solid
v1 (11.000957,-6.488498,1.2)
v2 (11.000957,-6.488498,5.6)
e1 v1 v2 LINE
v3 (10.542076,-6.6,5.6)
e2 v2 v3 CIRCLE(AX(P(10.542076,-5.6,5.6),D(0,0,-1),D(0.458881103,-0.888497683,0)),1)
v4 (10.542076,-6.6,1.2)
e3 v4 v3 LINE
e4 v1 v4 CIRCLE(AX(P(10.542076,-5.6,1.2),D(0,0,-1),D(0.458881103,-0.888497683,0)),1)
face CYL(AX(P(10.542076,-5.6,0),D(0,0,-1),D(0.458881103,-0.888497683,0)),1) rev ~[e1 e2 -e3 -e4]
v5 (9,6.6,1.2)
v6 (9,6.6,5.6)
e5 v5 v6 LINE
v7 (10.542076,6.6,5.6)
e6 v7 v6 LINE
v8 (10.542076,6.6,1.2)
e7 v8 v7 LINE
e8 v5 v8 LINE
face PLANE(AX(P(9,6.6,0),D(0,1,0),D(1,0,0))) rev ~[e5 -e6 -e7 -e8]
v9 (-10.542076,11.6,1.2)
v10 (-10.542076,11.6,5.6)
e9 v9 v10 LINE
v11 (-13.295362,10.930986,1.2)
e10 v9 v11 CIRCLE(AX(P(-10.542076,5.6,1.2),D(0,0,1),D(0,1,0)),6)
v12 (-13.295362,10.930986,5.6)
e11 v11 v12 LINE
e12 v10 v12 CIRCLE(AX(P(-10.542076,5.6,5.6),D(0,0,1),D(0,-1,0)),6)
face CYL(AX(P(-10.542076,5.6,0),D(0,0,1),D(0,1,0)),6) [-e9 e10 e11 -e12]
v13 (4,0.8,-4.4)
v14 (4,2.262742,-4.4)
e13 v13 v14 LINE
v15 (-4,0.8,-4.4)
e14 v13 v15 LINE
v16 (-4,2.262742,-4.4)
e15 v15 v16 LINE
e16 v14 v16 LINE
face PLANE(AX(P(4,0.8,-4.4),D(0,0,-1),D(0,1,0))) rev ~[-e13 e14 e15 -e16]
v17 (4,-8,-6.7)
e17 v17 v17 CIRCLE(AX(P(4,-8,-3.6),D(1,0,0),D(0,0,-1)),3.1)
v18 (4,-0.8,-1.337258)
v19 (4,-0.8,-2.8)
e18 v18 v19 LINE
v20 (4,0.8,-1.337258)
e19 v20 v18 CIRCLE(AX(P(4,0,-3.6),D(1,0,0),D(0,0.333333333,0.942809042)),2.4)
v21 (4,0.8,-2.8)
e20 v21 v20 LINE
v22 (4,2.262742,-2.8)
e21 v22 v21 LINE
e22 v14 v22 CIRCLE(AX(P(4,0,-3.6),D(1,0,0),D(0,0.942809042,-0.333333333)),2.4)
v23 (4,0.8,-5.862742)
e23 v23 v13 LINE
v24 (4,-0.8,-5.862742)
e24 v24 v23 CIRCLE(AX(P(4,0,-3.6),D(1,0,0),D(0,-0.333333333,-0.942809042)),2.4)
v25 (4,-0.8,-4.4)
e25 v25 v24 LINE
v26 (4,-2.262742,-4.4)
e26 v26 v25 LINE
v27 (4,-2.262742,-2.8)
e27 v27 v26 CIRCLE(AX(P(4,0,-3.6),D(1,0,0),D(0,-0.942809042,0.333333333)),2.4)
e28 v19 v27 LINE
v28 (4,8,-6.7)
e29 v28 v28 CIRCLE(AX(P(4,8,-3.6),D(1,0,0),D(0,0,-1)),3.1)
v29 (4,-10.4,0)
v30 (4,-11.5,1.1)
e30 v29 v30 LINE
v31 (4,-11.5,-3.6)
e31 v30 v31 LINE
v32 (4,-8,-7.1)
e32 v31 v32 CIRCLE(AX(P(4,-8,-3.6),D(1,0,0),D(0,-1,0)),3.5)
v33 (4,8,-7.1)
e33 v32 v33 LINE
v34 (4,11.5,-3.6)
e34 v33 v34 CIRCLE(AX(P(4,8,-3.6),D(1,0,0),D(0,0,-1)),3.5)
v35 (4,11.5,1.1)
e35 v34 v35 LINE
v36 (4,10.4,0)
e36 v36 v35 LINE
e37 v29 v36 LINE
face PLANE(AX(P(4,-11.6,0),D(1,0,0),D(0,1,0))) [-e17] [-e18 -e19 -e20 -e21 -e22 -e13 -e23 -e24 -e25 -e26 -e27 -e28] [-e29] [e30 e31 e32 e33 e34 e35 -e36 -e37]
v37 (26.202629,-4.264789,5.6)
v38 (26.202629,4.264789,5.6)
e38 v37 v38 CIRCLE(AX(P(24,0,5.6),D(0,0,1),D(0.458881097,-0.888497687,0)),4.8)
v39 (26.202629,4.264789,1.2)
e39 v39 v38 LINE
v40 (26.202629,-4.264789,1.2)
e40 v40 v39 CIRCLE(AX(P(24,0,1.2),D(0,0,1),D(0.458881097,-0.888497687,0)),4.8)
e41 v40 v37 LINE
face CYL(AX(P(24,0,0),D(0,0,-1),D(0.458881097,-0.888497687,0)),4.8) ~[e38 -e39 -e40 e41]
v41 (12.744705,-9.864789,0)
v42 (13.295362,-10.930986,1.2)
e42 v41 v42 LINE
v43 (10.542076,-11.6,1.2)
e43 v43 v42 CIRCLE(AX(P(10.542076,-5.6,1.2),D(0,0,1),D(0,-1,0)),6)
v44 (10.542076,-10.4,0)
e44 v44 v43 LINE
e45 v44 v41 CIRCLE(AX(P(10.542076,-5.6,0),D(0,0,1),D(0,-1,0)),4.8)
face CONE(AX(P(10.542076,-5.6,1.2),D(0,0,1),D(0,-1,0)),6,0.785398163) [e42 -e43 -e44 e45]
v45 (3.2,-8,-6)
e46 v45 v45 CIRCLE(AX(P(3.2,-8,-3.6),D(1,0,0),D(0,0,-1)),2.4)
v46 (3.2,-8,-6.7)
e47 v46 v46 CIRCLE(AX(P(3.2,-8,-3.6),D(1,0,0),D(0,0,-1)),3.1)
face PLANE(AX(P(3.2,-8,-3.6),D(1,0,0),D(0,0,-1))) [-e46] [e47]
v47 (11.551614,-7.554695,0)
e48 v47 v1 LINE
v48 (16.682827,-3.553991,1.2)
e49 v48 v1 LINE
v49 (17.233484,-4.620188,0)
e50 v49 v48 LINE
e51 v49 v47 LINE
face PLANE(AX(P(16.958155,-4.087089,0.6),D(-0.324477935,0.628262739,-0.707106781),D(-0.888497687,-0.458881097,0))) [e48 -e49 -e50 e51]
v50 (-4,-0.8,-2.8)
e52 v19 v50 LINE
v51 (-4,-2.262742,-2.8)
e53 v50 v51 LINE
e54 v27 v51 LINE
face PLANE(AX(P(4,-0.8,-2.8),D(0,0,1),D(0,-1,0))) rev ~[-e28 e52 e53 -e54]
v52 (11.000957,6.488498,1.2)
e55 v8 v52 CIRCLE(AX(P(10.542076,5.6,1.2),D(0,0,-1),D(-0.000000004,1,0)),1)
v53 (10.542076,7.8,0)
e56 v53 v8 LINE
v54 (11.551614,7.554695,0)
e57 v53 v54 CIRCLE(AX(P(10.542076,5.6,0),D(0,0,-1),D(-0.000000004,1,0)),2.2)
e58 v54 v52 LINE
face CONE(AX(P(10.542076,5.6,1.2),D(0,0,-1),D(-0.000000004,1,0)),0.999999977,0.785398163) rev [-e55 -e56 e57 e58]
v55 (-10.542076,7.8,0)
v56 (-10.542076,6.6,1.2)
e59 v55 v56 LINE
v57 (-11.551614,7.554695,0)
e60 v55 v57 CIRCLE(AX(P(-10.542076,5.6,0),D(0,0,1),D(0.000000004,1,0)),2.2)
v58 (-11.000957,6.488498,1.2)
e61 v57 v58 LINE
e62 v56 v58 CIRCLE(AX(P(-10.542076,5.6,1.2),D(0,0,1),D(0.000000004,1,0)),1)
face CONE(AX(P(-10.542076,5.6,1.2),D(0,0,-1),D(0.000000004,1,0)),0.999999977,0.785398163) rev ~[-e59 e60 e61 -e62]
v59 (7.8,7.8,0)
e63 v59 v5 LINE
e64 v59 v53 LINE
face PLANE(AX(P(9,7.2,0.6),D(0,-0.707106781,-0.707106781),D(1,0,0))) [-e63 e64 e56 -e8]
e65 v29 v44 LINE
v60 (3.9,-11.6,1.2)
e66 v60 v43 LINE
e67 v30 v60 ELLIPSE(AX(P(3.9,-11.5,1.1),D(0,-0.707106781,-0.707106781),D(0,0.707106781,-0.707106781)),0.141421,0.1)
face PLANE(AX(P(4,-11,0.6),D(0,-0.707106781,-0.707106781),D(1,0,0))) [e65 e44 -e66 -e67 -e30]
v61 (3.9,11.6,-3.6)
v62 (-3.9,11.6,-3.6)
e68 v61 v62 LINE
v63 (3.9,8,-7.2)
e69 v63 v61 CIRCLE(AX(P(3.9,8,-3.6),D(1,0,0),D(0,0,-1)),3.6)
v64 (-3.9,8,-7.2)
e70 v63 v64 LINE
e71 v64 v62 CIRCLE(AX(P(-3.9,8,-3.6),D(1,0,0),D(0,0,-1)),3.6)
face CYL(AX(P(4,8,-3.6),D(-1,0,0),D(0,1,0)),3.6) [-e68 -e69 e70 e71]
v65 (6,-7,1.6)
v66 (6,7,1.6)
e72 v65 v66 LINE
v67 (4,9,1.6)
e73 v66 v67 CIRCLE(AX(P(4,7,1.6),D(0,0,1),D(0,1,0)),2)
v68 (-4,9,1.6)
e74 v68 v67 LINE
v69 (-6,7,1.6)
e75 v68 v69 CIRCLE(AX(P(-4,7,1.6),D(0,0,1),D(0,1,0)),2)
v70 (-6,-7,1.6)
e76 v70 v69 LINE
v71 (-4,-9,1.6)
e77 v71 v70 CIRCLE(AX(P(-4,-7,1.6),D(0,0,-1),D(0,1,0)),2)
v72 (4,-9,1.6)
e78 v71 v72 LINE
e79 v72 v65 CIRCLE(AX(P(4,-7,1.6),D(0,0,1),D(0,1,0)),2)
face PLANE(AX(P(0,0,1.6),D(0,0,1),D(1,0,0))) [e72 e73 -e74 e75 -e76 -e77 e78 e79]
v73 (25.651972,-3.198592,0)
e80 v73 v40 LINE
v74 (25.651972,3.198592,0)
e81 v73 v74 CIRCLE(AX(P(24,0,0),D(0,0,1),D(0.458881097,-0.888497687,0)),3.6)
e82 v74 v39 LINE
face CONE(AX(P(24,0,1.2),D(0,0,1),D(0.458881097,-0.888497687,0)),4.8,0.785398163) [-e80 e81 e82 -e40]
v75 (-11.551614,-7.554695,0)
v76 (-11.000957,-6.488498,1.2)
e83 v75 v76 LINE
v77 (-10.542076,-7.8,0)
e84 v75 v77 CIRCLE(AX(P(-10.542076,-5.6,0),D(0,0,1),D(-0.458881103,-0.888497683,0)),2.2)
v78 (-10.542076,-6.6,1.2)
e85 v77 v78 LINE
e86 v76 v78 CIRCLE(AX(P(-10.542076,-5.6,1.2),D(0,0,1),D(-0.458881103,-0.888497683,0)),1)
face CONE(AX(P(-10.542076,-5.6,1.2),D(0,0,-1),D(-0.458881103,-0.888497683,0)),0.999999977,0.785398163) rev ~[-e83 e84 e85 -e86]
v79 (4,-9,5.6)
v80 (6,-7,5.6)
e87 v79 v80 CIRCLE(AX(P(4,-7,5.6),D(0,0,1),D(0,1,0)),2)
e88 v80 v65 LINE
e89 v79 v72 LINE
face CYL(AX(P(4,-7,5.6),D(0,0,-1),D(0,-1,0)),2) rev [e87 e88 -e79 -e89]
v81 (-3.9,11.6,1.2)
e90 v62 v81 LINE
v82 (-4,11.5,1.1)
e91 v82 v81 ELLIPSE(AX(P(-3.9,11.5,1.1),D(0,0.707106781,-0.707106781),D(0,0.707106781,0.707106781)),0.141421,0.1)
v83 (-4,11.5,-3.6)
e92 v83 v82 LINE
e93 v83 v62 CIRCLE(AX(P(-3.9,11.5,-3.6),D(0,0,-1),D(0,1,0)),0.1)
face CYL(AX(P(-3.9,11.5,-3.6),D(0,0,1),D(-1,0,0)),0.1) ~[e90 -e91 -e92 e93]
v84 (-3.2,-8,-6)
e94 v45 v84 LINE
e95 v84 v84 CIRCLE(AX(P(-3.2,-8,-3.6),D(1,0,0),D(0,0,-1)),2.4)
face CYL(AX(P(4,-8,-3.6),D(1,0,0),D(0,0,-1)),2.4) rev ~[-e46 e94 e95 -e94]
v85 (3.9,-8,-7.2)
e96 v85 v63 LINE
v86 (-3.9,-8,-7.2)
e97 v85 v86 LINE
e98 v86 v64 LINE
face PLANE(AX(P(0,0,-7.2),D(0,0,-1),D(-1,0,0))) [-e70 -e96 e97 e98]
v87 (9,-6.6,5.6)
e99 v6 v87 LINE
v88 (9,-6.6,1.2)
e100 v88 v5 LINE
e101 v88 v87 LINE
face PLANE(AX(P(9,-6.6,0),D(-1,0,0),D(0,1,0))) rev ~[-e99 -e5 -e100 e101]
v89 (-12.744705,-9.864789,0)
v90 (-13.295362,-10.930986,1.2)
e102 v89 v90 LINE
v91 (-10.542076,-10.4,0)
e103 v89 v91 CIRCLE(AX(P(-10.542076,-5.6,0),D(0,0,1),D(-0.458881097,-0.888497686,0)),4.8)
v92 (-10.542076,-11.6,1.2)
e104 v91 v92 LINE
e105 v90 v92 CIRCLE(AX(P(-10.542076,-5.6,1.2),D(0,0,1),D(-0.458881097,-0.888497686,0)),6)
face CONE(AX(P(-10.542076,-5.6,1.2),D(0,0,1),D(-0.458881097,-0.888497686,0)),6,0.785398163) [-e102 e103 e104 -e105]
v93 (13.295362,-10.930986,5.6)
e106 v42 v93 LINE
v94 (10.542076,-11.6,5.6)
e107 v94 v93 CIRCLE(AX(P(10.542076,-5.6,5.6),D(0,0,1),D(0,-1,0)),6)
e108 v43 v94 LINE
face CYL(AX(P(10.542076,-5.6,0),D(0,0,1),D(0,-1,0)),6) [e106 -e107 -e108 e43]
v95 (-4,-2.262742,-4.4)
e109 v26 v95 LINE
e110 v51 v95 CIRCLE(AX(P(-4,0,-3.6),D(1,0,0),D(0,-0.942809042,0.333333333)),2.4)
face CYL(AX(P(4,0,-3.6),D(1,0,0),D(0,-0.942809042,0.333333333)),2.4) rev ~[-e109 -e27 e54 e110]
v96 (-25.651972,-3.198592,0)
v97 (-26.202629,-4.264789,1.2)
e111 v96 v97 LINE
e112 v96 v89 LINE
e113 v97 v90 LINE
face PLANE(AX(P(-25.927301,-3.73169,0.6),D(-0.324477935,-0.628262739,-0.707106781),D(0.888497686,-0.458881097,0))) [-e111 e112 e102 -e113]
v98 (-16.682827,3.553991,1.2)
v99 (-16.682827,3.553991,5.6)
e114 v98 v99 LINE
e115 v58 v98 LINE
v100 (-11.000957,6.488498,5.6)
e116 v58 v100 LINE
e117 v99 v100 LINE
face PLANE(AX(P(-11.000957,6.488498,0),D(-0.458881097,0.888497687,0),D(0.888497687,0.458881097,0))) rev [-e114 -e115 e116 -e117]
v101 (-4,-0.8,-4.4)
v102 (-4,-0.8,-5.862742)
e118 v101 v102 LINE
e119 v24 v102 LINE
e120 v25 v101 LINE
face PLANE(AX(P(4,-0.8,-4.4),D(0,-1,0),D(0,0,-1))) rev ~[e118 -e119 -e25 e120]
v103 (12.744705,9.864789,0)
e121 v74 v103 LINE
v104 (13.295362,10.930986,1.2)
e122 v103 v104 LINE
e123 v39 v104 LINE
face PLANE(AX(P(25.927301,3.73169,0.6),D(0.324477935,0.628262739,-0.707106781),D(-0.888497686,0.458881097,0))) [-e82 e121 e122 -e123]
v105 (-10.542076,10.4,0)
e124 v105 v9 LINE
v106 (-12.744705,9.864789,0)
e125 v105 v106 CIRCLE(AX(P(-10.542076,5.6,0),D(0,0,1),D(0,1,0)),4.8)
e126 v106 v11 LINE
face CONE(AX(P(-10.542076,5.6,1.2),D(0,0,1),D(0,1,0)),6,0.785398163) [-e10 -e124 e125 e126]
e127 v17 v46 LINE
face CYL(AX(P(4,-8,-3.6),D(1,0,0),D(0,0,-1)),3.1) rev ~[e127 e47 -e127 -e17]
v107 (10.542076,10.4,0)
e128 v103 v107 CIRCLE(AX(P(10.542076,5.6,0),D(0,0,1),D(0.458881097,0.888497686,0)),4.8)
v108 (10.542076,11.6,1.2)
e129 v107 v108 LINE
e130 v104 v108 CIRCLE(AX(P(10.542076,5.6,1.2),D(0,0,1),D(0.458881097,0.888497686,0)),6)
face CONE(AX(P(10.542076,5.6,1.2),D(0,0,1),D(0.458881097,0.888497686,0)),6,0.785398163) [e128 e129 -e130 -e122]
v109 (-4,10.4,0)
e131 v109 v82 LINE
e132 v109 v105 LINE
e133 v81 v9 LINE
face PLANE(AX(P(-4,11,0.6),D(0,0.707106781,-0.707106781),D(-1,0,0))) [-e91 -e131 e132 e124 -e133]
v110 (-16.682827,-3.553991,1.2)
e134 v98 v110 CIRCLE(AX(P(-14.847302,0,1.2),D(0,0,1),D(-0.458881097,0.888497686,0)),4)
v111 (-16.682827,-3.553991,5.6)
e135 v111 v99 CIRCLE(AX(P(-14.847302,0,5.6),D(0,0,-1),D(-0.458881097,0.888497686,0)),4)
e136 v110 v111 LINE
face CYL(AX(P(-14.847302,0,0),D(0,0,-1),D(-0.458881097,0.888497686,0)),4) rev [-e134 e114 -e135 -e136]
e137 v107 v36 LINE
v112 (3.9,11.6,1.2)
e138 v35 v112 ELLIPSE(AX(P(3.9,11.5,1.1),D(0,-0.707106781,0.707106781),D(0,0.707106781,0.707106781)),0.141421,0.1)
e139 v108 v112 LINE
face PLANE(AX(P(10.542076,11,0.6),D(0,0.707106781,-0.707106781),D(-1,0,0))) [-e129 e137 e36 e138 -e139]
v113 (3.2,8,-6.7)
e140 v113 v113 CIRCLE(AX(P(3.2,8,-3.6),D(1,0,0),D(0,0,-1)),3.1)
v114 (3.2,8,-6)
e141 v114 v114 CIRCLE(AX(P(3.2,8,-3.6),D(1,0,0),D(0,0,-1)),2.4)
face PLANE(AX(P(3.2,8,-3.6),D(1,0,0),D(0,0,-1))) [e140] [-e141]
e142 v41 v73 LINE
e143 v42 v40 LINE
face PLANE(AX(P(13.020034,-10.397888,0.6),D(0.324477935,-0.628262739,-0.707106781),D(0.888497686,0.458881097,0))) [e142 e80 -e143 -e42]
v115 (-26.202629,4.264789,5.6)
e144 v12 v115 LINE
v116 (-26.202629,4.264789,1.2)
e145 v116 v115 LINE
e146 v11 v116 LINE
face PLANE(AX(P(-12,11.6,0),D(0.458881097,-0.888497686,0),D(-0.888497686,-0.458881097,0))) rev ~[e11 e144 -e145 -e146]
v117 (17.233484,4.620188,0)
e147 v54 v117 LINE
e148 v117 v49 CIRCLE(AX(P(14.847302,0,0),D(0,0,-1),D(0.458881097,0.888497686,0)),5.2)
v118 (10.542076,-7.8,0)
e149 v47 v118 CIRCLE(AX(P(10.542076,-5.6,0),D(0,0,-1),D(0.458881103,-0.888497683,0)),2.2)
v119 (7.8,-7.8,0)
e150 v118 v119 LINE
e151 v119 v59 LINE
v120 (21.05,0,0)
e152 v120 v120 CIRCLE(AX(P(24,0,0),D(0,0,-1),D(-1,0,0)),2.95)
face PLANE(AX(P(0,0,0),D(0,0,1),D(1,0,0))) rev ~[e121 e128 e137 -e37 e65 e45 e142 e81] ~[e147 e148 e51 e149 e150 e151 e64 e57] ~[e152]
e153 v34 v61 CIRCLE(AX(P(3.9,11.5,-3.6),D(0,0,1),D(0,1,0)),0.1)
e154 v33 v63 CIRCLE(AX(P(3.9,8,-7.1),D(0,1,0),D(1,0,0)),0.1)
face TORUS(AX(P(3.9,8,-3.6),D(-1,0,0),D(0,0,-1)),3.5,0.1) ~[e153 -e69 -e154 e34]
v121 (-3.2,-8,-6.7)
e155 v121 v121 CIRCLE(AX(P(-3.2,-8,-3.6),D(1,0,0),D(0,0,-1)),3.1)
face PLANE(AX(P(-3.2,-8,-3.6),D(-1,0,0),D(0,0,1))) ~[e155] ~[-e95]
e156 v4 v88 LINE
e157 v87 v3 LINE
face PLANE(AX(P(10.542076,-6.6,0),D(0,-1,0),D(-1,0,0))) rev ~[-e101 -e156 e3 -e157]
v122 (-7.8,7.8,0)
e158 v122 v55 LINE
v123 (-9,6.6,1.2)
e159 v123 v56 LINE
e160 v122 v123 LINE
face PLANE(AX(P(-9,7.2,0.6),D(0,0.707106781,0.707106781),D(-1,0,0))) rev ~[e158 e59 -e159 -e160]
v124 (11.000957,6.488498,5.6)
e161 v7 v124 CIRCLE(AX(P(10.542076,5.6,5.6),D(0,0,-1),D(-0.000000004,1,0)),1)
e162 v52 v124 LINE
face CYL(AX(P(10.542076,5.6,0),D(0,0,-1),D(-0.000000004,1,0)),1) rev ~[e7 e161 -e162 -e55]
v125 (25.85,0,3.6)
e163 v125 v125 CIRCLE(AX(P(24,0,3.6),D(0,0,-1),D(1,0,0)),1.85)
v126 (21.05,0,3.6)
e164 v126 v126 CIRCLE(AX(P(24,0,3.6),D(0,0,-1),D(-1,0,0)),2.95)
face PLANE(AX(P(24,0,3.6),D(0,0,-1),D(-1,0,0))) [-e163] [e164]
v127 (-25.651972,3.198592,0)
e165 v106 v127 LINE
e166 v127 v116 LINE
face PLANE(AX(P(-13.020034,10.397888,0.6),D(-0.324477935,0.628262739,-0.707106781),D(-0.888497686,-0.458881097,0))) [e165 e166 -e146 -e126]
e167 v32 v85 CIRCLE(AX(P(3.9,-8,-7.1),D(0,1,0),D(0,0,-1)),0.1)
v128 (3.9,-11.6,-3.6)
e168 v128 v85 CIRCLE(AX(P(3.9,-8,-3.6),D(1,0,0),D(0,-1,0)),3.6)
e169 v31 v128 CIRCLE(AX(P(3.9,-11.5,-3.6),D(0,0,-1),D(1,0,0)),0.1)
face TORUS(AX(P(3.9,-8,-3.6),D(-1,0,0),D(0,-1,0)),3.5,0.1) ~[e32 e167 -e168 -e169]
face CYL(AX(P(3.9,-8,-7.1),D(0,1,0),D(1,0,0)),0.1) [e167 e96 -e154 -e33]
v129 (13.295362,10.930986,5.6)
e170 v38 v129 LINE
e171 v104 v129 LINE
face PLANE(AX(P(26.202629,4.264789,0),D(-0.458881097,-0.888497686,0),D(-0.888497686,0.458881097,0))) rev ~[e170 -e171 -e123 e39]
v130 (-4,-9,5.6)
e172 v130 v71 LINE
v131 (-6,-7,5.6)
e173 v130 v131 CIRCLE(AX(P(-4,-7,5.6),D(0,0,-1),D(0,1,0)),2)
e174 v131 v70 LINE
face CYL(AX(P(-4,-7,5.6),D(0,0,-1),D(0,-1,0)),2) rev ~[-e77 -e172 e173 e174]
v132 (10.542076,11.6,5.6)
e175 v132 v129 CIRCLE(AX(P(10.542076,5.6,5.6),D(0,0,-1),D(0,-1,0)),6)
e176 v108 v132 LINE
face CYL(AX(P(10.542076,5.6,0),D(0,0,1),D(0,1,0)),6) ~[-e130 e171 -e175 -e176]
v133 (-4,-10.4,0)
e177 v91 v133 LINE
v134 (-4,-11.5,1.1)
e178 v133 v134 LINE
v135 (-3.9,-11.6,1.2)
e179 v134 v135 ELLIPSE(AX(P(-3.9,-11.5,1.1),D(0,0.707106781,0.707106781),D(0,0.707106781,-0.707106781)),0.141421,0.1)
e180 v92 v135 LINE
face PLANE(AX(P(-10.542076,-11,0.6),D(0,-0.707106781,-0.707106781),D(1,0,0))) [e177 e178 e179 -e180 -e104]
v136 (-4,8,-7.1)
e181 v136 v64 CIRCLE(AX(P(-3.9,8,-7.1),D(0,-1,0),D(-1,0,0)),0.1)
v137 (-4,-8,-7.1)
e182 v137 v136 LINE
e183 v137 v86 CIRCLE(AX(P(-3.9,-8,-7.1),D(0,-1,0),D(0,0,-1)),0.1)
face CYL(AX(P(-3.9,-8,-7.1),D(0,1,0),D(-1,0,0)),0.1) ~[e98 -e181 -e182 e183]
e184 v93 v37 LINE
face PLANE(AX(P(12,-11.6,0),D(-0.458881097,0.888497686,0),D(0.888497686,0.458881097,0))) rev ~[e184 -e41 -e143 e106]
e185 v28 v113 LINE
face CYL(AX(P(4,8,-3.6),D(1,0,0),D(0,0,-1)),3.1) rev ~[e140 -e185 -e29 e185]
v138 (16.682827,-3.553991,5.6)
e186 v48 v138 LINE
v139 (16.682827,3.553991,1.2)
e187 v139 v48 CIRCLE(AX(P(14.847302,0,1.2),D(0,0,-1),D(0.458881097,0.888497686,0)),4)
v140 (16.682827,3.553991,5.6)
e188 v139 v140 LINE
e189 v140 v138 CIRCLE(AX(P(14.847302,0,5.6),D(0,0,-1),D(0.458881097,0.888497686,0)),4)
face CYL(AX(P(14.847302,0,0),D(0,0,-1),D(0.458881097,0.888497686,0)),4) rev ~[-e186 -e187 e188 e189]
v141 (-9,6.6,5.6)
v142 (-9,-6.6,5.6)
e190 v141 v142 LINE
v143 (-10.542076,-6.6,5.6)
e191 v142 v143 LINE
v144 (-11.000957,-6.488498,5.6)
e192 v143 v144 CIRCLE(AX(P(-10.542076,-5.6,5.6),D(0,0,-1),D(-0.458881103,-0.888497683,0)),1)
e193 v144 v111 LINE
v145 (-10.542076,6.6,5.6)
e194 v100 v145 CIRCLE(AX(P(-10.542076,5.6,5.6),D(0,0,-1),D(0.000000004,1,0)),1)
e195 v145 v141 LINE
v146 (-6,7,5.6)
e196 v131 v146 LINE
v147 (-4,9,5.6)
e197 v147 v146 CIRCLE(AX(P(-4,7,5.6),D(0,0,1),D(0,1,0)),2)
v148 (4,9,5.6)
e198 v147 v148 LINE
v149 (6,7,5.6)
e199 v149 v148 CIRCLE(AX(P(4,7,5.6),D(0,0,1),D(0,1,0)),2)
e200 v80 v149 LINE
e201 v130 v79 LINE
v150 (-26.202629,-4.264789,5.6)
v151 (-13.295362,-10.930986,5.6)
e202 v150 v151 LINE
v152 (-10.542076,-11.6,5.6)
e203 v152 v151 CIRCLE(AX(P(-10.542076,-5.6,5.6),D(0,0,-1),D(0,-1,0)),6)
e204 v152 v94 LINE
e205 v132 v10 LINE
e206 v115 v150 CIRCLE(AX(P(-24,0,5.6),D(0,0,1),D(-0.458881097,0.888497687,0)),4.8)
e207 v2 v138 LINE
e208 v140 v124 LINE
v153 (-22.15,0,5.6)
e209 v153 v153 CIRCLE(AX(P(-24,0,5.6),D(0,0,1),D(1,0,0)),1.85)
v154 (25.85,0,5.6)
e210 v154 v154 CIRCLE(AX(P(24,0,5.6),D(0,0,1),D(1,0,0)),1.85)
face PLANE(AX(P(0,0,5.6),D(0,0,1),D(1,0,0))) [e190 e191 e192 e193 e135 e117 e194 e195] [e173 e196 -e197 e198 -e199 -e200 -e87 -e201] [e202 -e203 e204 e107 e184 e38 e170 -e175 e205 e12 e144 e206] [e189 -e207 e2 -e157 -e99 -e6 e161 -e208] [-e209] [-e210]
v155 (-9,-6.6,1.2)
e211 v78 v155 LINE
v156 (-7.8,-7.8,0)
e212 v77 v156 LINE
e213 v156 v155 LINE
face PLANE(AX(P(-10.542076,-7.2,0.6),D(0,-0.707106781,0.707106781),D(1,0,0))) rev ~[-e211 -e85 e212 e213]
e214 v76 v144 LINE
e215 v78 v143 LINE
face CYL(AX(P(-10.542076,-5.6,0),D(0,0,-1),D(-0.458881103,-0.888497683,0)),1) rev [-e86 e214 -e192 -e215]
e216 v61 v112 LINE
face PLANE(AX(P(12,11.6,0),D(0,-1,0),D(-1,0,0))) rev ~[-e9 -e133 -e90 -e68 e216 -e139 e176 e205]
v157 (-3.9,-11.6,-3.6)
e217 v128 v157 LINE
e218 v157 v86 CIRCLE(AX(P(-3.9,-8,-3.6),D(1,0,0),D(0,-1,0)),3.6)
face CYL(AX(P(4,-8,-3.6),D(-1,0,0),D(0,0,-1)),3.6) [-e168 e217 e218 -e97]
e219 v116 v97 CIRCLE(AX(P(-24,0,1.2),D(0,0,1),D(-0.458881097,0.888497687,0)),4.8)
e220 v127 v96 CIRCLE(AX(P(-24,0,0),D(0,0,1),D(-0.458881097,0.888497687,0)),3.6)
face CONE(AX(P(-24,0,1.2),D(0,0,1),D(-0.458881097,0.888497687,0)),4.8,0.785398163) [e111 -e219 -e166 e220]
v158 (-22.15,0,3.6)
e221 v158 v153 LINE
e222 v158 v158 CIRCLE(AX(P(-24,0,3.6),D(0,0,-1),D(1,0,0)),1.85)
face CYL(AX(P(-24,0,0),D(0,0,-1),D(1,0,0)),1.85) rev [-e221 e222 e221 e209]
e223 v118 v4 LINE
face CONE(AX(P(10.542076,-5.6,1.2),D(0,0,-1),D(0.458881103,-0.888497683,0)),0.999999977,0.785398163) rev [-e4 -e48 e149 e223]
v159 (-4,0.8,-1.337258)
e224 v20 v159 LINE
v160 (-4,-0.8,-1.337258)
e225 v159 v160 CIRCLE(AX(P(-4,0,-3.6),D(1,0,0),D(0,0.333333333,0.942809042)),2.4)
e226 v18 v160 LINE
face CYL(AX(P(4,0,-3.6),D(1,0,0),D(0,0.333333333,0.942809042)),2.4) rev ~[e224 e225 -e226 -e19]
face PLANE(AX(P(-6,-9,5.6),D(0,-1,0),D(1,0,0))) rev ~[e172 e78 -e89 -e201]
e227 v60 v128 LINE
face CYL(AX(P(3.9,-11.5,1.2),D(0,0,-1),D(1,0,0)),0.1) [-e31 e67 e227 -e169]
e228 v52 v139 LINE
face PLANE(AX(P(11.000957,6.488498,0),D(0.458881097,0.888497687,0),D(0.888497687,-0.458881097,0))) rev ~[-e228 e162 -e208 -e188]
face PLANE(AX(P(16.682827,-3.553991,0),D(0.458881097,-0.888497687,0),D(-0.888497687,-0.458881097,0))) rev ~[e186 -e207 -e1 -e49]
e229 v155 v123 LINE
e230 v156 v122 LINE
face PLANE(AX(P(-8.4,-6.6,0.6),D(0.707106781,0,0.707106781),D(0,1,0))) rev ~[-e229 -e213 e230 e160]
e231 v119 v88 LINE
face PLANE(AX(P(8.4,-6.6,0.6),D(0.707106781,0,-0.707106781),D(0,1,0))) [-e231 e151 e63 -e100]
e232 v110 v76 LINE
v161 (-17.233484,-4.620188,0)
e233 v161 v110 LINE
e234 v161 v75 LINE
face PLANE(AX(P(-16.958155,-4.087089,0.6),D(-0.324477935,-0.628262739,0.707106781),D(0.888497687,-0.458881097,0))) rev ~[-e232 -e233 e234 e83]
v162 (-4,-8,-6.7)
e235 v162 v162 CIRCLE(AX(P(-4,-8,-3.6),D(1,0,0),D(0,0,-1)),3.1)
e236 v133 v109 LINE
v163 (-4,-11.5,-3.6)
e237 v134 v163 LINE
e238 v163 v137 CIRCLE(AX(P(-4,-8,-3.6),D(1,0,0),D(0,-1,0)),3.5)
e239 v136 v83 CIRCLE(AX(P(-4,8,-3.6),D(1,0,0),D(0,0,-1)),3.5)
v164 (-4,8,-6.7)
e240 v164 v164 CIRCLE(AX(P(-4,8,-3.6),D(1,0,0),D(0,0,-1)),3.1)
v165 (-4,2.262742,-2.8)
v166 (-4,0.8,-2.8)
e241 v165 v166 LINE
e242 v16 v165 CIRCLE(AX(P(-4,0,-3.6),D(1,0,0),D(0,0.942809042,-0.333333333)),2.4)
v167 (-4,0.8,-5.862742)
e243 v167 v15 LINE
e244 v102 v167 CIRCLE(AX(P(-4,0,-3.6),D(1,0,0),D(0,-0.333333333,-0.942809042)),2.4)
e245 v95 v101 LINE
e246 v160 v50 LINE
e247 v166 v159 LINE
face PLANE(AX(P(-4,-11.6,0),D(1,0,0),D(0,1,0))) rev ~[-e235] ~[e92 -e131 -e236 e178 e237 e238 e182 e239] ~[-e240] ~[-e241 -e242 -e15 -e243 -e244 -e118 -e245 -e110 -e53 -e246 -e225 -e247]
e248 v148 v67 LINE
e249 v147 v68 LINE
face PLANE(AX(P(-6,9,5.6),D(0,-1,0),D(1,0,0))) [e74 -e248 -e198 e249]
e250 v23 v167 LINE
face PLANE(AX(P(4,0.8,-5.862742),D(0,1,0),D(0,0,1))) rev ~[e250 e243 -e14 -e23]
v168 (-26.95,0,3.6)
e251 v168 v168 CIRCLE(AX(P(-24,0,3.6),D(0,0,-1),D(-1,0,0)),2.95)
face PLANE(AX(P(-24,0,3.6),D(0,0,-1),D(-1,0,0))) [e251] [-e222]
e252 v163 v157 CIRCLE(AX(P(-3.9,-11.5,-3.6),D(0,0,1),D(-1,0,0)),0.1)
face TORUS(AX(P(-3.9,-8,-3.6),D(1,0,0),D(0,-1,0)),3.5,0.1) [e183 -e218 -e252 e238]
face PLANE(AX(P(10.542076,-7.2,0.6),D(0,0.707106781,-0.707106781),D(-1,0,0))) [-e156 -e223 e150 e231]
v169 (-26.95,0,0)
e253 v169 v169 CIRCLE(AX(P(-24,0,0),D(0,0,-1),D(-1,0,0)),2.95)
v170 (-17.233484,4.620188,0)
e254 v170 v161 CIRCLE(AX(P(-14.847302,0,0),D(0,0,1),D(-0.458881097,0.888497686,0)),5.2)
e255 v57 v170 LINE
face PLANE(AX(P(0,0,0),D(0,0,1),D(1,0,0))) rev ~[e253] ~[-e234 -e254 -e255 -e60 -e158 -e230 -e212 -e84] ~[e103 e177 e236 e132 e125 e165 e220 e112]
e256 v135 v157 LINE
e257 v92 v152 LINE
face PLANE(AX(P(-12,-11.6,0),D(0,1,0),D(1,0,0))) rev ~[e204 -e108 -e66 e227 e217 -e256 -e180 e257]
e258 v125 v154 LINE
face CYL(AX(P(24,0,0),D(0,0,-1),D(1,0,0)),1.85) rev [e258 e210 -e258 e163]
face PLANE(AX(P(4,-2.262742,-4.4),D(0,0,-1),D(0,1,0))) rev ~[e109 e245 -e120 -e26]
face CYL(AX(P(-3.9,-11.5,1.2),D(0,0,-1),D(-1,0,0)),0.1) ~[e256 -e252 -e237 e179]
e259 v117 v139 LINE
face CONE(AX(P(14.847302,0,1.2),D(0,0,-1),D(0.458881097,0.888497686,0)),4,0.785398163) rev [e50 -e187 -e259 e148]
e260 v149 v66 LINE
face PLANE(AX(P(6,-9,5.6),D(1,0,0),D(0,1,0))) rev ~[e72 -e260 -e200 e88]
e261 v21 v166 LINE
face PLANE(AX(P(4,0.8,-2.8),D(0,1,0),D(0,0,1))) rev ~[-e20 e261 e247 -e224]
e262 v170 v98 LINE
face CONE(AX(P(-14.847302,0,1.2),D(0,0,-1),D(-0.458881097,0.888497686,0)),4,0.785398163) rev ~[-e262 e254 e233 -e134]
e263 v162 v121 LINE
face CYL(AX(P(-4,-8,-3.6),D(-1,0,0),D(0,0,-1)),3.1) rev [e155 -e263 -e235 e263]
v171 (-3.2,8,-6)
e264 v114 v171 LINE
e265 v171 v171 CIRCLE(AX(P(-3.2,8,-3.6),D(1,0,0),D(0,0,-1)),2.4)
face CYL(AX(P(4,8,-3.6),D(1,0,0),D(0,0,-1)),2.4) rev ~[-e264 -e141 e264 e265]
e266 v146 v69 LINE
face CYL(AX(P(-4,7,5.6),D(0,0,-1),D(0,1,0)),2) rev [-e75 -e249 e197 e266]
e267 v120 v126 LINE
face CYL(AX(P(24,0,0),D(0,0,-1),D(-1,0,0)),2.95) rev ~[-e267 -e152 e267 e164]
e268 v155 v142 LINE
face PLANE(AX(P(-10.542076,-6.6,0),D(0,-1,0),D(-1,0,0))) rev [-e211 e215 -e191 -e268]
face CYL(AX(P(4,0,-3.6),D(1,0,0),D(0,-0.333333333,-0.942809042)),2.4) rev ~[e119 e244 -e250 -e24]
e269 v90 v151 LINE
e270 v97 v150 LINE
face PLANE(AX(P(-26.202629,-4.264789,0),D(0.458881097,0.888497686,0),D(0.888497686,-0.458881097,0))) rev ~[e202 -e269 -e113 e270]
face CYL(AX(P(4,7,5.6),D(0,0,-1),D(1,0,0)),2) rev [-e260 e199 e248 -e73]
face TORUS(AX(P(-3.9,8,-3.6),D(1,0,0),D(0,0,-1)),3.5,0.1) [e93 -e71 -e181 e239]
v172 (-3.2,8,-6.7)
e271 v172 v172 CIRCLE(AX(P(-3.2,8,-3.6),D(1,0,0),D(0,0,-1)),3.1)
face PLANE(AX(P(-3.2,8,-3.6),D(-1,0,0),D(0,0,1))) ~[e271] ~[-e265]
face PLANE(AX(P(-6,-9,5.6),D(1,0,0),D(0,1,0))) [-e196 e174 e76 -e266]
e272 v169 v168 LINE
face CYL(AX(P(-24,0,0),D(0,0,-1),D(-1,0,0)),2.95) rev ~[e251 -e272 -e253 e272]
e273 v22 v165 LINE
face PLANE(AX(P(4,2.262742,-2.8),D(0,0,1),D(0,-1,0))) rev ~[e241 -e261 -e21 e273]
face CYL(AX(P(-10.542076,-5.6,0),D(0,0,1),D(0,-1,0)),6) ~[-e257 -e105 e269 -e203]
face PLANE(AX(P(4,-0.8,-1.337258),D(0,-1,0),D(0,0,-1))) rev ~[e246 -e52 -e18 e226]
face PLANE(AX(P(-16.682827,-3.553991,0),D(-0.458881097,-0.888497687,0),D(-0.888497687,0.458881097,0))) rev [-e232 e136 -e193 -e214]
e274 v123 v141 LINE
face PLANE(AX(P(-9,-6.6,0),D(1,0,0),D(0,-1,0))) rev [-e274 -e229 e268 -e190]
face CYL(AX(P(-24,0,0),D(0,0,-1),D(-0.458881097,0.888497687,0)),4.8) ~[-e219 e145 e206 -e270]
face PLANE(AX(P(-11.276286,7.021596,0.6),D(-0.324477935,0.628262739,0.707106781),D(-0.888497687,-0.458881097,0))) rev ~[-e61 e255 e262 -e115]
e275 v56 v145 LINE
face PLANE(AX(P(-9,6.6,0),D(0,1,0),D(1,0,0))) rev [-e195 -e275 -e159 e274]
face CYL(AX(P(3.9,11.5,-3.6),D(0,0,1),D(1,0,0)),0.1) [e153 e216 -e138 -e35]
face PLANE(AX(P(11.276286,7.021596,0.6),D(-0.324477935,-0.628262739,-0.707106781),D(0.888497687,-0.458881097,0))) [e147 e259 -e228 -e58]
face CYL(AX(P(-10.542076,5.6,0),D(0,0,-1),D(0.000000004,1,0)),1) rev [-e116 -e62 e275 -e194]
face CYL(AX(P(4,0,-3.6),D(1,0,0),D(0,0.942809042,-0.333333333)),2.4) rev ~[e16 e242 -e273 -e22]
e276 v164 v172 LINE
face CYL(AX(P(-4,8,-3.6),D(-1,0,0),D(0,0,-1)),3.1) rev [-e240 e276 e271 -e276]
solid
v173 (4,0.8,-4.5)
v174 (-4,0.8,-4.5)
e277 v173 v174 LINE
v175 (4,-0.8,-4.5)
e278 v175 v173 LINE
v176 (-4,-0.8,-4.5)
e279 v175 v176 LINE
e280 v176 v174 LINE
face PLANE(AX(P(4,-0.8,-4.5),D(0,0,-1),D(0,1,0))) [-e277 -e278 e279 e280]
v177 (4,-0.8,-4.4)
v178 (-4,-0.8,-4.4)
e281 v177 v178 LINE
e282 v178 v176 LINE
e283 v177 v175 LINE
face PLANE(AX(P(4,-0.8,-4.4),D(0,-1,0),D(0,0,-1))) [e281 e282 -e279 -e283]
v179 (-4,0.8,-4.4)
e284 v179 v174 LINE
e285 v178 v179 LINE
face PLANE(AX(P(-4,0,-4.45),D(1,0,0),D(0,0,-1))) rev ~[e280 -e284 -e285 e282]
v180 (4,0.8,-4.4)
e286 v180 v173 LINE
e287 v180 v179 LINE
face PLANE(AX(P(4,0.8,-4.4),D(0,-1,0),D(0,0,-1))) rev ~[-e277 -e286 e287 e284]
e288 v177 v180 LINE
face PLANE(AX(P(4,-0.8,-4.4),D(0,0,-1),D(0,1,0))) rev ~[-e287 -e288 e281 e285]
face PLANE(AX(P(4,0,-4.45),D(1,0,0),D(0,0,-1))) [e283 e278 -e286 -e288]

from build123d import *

# Parameters (mm, degrees)
SKETCH_2_R          = 1.85
EXTRUDE_1_DEPTH     = 5.6
SKETCH_3_R          = 2.95
CUT_EXTRUDE_1_DEPTH = 3.6
SKETCH_4_W          = 8
SKETCH_4_H          = 23.2
EXTRUDE_2_DEPTH     = 7.2
SKETCH_5_R          = 2.4
CUT_EXTRUDE_2_DEPTH = 33.8
FILLET_1_R          = 3.6
SKETCH_6_R          = 3.1
CUT_EXTRUDE_3_DEPTH = 0.8
FILLET_2_R          = 6
CUT_EXTRUDE_4_DEPTH = 6.6
CHAMFER_1_SIZE      = 1.2
SKETCH_8_W          = 12
SKETCH_8_H          = 18
CUT_EXTRUDE_5_DEPTH = 4
FILLET_3_R          = 2
FILLET_4_R          = 0.1
SKETCH_9_W          = 0.1
SKETCH_9_H          = 1.6
EXTRUDE_3_DEPTH     = 8


with BuildPart() as part:
    # ｽｹｯﾁ2 → ﾎﾞｽ - 押し出し1 (new body)
    with BuildSketch(Plane.XY):
        with BuildLine():
            Line((-12, 11.6), (-26.202629265, 4.264788895))
            ThreePointArc((-26.202629265, 4.264788895), (-28.8, 0), (-26.202629265, -4.264788895))
            Line((-26.202629265, -4.264788895), (-12, -11.6))
            Line((-12, -11.6), (12, -11.6))
            Line((12, -11.6), (26.202629265, -4.264788895))
            ThreePointArc((26.202629265, -4.264788895), (28.8, 0), (26.202629265, 4.264788895))
            Line((26.202629265, 4.264788895), (12, 11.6))
            Line((12, 11.6), (-12, 11.6))
        make_face()
        with Locations((-24, 0)):
            Circle(SKETCH_2_R, mode=Mode.SUBTRACT)
        with Locations((24, 0)):
            Circle(SKETCH_2_R, mode=Mode.SUBTRACT)
    extrude(amount=EXTRUDE_1_DEPTH)

    # ｽｹｯﾁ3 → ｶｯﾄ - 押し出し1 (cut)
    with BuildSketch(Plane(origin=(0, 0, 0), x_dir=(-1, 0, 0), z_dir=(0, 0, -1))):
        with Locations((-24, 0)):
            Circle(SKETCH_3_R)
        with Locations((24, 0)):
            Circle(SKETCH_3_R)
    extrude(amount=-CUT_EXTRUDE_1_DEPTH, mode=Mode.SUBTRACT)

    # ｽｹｯﾁ4 → ﾎﾞｽ - 押し出し2 (add)
    with BuildSketch(Plane(origin=(0, 0, 0), x_dir=(-1, 0, 0), z_dir=(0, 0, -1))):
        Rectangle(SKETCH_4_W, SKETCH_4_H)
    extrude(amount=EXTRUDE_2_DEPTH)

    # ｽｹｯﾁ5 → ｶｯﾄ - 押し出し2 (cut, through all)
    with BuildSketch(Plane(origin=(4, 0, 0), x_dir=(0, 0, -1), z_dir=(1, 0, 0))):
        with Locations((3.6, 8)):
            Circle(SKETCH_5_R)
        with Locations((3.6, -8)):
            Circle(SKETCH_5_R)
        with BuildLine():
            Line((2.8, 2.2627417), (2.8, 0.8))
            Line((2.8, 0.8), (1.3372583, 0.8))
            ThreePointArc((1.3372583, 0.8), (1.2, 0), (1.3372583, -0.8))
            Line((1.3372583, -0.8), (2.8, -0.8))
            Line((2.8, -0.8), (2.8, -2.2627417))
            ThreePointArc((2.8, -2.2627417), (3.6, -2.4), (4.4, -2.2627417))
            Line((4.4, -2.2627417), (4.4, -0.8))
            Line((4.4, -0.8), (5.8627417, -0.8))
            ThreePointArc((5.8627417, -0.8), (6, 0), (5.8627417, 0.8))
            Line((5.8627417, 0.8), (4.4, 0.8))
            Line((4.4, 0.8), (4.4, 2.2627417))
            ThreePointArc((4.4, 2.2627417), (3.6, 2.4), (2.8, 2.2627417))
        make_face()
    extrude(amount=-CUT_EXTRUDE_2_DEPTH, mode=Mode.SUBTRACT)

    # ﾌｨﾚｯﾄ1
    fillet_1_edges = [part.edges().sort_by_distance(p)[0] for p in [
        (0, -11.6, -7.2),
        (0, 11.6, -7.2),
    ]]
    fillet(fillet_1_edges, radius=FILLET_1_R)

    # ｽｹｯﾁ6 → ｶｯﾄ - 押し出し3 (cut)
    with BuildSketch(Plane(origin=(4, 0, 0), x_dir=(0, 0, -1), z_dir=(1, 0, 0))):
        with Locations((3.6, 8)):
            Circle(SKETCH_6_R)
        with Locations((3.6, -8)):
            Circle(SKETCH_6_R)
    cut_extrude_3 = extrude(amount=-CUT_EXTRUDE_3_DEPTH, mode=Mode.SUBTRACT)

    # ﾐﾗｰ1: ｶｯﾄ - 押し出し3 across plane
    add(cut_extrude_3.mirror(Plane(origin=(0, 0, 0), x_dir=(0, 0, 1), z_dir=(1, 0, 0))), mode=Mode.SUBTRACT)

    # ﾌｨﾚｯﾄ2
    fillet_2_edges = [part.edges().sort_by_distance(p)[0] for p in [
        (12, 11.6, 2.8),
        (12, -11.6, 2.8),
        (-12, -11.6, 2.8),
        (-12, 11.6, 2.8),
    ]]
    fillet(fillet_2_edges, radius=FILLET_2_R)

    # ｽｹｯﾁ7 → ｶｯﾄ - 押し出し4 (cut, through all)
    with BuildSketch(Plane(origin=(0, 0, 0), x_dir=(-1, 0, 0), z_dir=(0, 0, -1))):
        with BuildLine():
            Line((-16.682826602, -3.553990746), (-11.000956842, -6.488497686))
            ThreePointArc((-11.000956842, -6.488497686), (-10.778192574, -6.571724675), (-10.542075746, -6.6))
            Line((-10.542075746, -6.6), (-9, -6.6))
            Line((-9, -6.6), (-9, 6.6))
            Line((-9, 6.6), (-10.542075746, 6.6))
            ThreePointArc((-10.542075746, 6.6), (-10.778192574, 6.571724675), (-11.000956842, 6.488497686))
            Line((-11.000956842, 6.488497686), (-16.682826602, 3.553990746))
            ThreePointArc((-16.682826602, 3.553990746), (-18.847302214, 0), (-16.682826602, -3.553990746))
        make_face()
    cut_extrude_4 = extrude(amount=-CUT_EXTRUDE_4_DEPTH, mode=Mode.SUBTRACT)

    # ﾐﾗｰ2: ｶｯﾄ - 押し出し4 across plane
    add(cut_extrude_4.mirror(Plane(origin=(0, 0, 0), x_dir=(0, 0, 1), z_dir=(1, 0, 0))), mode=Mode.SUBTRACT)

    # 面取り1
    chamfer_1_edges = [part.edges().sort_by_distance(p)[0] for p in [
        (-19.748995796, -7.597887507, 0),
        (-28.8, 0, 0),
        (-7.271037873, -11.6, 0),
        (-19.748995796, 7.597887507, 0),
        (-11.958776717, 11.430348048, 0),
        (-11.958776717, -11.430348048, 0),
        (19.748995796, -7.597887507, 0),
        (7.271037873, 11.6, 0),
        (11.958776717, 11.430348048, 0),
        (11.958776717, -11.430348048, 0),
        (18.847302214, 0, 0),
        (13.841891722, -5.021244216, 0),
        (10.778192574, -6.571724675, 0),
        (9.771037873, -6.6, 0),
        (9, 0, 0),
        (9.771037873, 6.6, 0),
        (10.778192574, 6.571724675, 0),
        (13.841891722, 5.021244216, 0),
        (-18.847302214, 0, 0),
        (-13.841891722, -5.021244216, 0),
        (-10.778192574, -6.571724675, 0),
        (-9.771037873, -6.6, 0),
        (-9, 0, 0),
        (-9.771037873, 6.6, 0),
        (-10.778192574, 6.571724675, 0),
        (-13.841891722, 5.021244216, 0),
        (-7.271037873, 11.6, 0),
        (7.271037873, -11.6, 0),
        (19.748995796, 7.597887507, 0),
        (28.8, 0, 0),
    ]]
    chamfer(chamfer_1_edges, length=CHAMFER_1_SIZE)

    # ｽｹｯﾁ8 → ｶｯﾄ - 押し出し5 (cut)
    with BuildSketch(Plane.XY.offset(5.6)):
        Rectangle(SKETCH_8_W, SKETCH_8_H)
    extrude(amount=-CUT_EXTRUDE_5_DEPTH, mode=Mode.SUBTRACT)

    # ﾌｨﾚｯﾄ3
    fillet_3_edges = [part.edges().sort_by_distance(p)[0] for p in [
        (-6, -9, 3.6),
        (-6, 9, 3.6),
        (6, 9, 3.6),
        (6, -9, 3.6),
    ]]
    fillet(fillet_3_edges, radius=FILLET_3_R)

    # ﾌｨﾚｯﾄ4
    fillet_4_edges = [part.edges().sort_by_distance(p)[0] for p in [
        (4, 0, -7.2),
        (-4, 0, -7.2),
        (-4, 11.6, -1.2),
        (-4, -11.6, -1.2),
        (-4, 10.545584412, -6.145584412),
        (-4, -10.545584412, -6.145584412),
        (4, -11.6, -1.2),
        (4, 11.6, -1.2),
        (4, 10.545584412, -6.145584412),
        (4, -10.545584412, -6.145584412),
    ]]
    fillet(fillet_4_edges, radius=FILLET_4_R)


with BuildPart() as body_2:
    # ｽｹｯﾁ9 → ﾎﾞｽ - 押し出し3 (new body)
    with BuildSketch(Plane(origin=(4, 0, 0), x_dir=(0, 0, -1), z_dir=(1, 0, 0))):
        with Locations((4.45, 0)):
            Rectangle(SKETCH_9_W, SKETCH_9_H)
    extrude(amount=-EXTRUDE_3_DEPTH)


solid = Compound([part.part, body_2.part])
